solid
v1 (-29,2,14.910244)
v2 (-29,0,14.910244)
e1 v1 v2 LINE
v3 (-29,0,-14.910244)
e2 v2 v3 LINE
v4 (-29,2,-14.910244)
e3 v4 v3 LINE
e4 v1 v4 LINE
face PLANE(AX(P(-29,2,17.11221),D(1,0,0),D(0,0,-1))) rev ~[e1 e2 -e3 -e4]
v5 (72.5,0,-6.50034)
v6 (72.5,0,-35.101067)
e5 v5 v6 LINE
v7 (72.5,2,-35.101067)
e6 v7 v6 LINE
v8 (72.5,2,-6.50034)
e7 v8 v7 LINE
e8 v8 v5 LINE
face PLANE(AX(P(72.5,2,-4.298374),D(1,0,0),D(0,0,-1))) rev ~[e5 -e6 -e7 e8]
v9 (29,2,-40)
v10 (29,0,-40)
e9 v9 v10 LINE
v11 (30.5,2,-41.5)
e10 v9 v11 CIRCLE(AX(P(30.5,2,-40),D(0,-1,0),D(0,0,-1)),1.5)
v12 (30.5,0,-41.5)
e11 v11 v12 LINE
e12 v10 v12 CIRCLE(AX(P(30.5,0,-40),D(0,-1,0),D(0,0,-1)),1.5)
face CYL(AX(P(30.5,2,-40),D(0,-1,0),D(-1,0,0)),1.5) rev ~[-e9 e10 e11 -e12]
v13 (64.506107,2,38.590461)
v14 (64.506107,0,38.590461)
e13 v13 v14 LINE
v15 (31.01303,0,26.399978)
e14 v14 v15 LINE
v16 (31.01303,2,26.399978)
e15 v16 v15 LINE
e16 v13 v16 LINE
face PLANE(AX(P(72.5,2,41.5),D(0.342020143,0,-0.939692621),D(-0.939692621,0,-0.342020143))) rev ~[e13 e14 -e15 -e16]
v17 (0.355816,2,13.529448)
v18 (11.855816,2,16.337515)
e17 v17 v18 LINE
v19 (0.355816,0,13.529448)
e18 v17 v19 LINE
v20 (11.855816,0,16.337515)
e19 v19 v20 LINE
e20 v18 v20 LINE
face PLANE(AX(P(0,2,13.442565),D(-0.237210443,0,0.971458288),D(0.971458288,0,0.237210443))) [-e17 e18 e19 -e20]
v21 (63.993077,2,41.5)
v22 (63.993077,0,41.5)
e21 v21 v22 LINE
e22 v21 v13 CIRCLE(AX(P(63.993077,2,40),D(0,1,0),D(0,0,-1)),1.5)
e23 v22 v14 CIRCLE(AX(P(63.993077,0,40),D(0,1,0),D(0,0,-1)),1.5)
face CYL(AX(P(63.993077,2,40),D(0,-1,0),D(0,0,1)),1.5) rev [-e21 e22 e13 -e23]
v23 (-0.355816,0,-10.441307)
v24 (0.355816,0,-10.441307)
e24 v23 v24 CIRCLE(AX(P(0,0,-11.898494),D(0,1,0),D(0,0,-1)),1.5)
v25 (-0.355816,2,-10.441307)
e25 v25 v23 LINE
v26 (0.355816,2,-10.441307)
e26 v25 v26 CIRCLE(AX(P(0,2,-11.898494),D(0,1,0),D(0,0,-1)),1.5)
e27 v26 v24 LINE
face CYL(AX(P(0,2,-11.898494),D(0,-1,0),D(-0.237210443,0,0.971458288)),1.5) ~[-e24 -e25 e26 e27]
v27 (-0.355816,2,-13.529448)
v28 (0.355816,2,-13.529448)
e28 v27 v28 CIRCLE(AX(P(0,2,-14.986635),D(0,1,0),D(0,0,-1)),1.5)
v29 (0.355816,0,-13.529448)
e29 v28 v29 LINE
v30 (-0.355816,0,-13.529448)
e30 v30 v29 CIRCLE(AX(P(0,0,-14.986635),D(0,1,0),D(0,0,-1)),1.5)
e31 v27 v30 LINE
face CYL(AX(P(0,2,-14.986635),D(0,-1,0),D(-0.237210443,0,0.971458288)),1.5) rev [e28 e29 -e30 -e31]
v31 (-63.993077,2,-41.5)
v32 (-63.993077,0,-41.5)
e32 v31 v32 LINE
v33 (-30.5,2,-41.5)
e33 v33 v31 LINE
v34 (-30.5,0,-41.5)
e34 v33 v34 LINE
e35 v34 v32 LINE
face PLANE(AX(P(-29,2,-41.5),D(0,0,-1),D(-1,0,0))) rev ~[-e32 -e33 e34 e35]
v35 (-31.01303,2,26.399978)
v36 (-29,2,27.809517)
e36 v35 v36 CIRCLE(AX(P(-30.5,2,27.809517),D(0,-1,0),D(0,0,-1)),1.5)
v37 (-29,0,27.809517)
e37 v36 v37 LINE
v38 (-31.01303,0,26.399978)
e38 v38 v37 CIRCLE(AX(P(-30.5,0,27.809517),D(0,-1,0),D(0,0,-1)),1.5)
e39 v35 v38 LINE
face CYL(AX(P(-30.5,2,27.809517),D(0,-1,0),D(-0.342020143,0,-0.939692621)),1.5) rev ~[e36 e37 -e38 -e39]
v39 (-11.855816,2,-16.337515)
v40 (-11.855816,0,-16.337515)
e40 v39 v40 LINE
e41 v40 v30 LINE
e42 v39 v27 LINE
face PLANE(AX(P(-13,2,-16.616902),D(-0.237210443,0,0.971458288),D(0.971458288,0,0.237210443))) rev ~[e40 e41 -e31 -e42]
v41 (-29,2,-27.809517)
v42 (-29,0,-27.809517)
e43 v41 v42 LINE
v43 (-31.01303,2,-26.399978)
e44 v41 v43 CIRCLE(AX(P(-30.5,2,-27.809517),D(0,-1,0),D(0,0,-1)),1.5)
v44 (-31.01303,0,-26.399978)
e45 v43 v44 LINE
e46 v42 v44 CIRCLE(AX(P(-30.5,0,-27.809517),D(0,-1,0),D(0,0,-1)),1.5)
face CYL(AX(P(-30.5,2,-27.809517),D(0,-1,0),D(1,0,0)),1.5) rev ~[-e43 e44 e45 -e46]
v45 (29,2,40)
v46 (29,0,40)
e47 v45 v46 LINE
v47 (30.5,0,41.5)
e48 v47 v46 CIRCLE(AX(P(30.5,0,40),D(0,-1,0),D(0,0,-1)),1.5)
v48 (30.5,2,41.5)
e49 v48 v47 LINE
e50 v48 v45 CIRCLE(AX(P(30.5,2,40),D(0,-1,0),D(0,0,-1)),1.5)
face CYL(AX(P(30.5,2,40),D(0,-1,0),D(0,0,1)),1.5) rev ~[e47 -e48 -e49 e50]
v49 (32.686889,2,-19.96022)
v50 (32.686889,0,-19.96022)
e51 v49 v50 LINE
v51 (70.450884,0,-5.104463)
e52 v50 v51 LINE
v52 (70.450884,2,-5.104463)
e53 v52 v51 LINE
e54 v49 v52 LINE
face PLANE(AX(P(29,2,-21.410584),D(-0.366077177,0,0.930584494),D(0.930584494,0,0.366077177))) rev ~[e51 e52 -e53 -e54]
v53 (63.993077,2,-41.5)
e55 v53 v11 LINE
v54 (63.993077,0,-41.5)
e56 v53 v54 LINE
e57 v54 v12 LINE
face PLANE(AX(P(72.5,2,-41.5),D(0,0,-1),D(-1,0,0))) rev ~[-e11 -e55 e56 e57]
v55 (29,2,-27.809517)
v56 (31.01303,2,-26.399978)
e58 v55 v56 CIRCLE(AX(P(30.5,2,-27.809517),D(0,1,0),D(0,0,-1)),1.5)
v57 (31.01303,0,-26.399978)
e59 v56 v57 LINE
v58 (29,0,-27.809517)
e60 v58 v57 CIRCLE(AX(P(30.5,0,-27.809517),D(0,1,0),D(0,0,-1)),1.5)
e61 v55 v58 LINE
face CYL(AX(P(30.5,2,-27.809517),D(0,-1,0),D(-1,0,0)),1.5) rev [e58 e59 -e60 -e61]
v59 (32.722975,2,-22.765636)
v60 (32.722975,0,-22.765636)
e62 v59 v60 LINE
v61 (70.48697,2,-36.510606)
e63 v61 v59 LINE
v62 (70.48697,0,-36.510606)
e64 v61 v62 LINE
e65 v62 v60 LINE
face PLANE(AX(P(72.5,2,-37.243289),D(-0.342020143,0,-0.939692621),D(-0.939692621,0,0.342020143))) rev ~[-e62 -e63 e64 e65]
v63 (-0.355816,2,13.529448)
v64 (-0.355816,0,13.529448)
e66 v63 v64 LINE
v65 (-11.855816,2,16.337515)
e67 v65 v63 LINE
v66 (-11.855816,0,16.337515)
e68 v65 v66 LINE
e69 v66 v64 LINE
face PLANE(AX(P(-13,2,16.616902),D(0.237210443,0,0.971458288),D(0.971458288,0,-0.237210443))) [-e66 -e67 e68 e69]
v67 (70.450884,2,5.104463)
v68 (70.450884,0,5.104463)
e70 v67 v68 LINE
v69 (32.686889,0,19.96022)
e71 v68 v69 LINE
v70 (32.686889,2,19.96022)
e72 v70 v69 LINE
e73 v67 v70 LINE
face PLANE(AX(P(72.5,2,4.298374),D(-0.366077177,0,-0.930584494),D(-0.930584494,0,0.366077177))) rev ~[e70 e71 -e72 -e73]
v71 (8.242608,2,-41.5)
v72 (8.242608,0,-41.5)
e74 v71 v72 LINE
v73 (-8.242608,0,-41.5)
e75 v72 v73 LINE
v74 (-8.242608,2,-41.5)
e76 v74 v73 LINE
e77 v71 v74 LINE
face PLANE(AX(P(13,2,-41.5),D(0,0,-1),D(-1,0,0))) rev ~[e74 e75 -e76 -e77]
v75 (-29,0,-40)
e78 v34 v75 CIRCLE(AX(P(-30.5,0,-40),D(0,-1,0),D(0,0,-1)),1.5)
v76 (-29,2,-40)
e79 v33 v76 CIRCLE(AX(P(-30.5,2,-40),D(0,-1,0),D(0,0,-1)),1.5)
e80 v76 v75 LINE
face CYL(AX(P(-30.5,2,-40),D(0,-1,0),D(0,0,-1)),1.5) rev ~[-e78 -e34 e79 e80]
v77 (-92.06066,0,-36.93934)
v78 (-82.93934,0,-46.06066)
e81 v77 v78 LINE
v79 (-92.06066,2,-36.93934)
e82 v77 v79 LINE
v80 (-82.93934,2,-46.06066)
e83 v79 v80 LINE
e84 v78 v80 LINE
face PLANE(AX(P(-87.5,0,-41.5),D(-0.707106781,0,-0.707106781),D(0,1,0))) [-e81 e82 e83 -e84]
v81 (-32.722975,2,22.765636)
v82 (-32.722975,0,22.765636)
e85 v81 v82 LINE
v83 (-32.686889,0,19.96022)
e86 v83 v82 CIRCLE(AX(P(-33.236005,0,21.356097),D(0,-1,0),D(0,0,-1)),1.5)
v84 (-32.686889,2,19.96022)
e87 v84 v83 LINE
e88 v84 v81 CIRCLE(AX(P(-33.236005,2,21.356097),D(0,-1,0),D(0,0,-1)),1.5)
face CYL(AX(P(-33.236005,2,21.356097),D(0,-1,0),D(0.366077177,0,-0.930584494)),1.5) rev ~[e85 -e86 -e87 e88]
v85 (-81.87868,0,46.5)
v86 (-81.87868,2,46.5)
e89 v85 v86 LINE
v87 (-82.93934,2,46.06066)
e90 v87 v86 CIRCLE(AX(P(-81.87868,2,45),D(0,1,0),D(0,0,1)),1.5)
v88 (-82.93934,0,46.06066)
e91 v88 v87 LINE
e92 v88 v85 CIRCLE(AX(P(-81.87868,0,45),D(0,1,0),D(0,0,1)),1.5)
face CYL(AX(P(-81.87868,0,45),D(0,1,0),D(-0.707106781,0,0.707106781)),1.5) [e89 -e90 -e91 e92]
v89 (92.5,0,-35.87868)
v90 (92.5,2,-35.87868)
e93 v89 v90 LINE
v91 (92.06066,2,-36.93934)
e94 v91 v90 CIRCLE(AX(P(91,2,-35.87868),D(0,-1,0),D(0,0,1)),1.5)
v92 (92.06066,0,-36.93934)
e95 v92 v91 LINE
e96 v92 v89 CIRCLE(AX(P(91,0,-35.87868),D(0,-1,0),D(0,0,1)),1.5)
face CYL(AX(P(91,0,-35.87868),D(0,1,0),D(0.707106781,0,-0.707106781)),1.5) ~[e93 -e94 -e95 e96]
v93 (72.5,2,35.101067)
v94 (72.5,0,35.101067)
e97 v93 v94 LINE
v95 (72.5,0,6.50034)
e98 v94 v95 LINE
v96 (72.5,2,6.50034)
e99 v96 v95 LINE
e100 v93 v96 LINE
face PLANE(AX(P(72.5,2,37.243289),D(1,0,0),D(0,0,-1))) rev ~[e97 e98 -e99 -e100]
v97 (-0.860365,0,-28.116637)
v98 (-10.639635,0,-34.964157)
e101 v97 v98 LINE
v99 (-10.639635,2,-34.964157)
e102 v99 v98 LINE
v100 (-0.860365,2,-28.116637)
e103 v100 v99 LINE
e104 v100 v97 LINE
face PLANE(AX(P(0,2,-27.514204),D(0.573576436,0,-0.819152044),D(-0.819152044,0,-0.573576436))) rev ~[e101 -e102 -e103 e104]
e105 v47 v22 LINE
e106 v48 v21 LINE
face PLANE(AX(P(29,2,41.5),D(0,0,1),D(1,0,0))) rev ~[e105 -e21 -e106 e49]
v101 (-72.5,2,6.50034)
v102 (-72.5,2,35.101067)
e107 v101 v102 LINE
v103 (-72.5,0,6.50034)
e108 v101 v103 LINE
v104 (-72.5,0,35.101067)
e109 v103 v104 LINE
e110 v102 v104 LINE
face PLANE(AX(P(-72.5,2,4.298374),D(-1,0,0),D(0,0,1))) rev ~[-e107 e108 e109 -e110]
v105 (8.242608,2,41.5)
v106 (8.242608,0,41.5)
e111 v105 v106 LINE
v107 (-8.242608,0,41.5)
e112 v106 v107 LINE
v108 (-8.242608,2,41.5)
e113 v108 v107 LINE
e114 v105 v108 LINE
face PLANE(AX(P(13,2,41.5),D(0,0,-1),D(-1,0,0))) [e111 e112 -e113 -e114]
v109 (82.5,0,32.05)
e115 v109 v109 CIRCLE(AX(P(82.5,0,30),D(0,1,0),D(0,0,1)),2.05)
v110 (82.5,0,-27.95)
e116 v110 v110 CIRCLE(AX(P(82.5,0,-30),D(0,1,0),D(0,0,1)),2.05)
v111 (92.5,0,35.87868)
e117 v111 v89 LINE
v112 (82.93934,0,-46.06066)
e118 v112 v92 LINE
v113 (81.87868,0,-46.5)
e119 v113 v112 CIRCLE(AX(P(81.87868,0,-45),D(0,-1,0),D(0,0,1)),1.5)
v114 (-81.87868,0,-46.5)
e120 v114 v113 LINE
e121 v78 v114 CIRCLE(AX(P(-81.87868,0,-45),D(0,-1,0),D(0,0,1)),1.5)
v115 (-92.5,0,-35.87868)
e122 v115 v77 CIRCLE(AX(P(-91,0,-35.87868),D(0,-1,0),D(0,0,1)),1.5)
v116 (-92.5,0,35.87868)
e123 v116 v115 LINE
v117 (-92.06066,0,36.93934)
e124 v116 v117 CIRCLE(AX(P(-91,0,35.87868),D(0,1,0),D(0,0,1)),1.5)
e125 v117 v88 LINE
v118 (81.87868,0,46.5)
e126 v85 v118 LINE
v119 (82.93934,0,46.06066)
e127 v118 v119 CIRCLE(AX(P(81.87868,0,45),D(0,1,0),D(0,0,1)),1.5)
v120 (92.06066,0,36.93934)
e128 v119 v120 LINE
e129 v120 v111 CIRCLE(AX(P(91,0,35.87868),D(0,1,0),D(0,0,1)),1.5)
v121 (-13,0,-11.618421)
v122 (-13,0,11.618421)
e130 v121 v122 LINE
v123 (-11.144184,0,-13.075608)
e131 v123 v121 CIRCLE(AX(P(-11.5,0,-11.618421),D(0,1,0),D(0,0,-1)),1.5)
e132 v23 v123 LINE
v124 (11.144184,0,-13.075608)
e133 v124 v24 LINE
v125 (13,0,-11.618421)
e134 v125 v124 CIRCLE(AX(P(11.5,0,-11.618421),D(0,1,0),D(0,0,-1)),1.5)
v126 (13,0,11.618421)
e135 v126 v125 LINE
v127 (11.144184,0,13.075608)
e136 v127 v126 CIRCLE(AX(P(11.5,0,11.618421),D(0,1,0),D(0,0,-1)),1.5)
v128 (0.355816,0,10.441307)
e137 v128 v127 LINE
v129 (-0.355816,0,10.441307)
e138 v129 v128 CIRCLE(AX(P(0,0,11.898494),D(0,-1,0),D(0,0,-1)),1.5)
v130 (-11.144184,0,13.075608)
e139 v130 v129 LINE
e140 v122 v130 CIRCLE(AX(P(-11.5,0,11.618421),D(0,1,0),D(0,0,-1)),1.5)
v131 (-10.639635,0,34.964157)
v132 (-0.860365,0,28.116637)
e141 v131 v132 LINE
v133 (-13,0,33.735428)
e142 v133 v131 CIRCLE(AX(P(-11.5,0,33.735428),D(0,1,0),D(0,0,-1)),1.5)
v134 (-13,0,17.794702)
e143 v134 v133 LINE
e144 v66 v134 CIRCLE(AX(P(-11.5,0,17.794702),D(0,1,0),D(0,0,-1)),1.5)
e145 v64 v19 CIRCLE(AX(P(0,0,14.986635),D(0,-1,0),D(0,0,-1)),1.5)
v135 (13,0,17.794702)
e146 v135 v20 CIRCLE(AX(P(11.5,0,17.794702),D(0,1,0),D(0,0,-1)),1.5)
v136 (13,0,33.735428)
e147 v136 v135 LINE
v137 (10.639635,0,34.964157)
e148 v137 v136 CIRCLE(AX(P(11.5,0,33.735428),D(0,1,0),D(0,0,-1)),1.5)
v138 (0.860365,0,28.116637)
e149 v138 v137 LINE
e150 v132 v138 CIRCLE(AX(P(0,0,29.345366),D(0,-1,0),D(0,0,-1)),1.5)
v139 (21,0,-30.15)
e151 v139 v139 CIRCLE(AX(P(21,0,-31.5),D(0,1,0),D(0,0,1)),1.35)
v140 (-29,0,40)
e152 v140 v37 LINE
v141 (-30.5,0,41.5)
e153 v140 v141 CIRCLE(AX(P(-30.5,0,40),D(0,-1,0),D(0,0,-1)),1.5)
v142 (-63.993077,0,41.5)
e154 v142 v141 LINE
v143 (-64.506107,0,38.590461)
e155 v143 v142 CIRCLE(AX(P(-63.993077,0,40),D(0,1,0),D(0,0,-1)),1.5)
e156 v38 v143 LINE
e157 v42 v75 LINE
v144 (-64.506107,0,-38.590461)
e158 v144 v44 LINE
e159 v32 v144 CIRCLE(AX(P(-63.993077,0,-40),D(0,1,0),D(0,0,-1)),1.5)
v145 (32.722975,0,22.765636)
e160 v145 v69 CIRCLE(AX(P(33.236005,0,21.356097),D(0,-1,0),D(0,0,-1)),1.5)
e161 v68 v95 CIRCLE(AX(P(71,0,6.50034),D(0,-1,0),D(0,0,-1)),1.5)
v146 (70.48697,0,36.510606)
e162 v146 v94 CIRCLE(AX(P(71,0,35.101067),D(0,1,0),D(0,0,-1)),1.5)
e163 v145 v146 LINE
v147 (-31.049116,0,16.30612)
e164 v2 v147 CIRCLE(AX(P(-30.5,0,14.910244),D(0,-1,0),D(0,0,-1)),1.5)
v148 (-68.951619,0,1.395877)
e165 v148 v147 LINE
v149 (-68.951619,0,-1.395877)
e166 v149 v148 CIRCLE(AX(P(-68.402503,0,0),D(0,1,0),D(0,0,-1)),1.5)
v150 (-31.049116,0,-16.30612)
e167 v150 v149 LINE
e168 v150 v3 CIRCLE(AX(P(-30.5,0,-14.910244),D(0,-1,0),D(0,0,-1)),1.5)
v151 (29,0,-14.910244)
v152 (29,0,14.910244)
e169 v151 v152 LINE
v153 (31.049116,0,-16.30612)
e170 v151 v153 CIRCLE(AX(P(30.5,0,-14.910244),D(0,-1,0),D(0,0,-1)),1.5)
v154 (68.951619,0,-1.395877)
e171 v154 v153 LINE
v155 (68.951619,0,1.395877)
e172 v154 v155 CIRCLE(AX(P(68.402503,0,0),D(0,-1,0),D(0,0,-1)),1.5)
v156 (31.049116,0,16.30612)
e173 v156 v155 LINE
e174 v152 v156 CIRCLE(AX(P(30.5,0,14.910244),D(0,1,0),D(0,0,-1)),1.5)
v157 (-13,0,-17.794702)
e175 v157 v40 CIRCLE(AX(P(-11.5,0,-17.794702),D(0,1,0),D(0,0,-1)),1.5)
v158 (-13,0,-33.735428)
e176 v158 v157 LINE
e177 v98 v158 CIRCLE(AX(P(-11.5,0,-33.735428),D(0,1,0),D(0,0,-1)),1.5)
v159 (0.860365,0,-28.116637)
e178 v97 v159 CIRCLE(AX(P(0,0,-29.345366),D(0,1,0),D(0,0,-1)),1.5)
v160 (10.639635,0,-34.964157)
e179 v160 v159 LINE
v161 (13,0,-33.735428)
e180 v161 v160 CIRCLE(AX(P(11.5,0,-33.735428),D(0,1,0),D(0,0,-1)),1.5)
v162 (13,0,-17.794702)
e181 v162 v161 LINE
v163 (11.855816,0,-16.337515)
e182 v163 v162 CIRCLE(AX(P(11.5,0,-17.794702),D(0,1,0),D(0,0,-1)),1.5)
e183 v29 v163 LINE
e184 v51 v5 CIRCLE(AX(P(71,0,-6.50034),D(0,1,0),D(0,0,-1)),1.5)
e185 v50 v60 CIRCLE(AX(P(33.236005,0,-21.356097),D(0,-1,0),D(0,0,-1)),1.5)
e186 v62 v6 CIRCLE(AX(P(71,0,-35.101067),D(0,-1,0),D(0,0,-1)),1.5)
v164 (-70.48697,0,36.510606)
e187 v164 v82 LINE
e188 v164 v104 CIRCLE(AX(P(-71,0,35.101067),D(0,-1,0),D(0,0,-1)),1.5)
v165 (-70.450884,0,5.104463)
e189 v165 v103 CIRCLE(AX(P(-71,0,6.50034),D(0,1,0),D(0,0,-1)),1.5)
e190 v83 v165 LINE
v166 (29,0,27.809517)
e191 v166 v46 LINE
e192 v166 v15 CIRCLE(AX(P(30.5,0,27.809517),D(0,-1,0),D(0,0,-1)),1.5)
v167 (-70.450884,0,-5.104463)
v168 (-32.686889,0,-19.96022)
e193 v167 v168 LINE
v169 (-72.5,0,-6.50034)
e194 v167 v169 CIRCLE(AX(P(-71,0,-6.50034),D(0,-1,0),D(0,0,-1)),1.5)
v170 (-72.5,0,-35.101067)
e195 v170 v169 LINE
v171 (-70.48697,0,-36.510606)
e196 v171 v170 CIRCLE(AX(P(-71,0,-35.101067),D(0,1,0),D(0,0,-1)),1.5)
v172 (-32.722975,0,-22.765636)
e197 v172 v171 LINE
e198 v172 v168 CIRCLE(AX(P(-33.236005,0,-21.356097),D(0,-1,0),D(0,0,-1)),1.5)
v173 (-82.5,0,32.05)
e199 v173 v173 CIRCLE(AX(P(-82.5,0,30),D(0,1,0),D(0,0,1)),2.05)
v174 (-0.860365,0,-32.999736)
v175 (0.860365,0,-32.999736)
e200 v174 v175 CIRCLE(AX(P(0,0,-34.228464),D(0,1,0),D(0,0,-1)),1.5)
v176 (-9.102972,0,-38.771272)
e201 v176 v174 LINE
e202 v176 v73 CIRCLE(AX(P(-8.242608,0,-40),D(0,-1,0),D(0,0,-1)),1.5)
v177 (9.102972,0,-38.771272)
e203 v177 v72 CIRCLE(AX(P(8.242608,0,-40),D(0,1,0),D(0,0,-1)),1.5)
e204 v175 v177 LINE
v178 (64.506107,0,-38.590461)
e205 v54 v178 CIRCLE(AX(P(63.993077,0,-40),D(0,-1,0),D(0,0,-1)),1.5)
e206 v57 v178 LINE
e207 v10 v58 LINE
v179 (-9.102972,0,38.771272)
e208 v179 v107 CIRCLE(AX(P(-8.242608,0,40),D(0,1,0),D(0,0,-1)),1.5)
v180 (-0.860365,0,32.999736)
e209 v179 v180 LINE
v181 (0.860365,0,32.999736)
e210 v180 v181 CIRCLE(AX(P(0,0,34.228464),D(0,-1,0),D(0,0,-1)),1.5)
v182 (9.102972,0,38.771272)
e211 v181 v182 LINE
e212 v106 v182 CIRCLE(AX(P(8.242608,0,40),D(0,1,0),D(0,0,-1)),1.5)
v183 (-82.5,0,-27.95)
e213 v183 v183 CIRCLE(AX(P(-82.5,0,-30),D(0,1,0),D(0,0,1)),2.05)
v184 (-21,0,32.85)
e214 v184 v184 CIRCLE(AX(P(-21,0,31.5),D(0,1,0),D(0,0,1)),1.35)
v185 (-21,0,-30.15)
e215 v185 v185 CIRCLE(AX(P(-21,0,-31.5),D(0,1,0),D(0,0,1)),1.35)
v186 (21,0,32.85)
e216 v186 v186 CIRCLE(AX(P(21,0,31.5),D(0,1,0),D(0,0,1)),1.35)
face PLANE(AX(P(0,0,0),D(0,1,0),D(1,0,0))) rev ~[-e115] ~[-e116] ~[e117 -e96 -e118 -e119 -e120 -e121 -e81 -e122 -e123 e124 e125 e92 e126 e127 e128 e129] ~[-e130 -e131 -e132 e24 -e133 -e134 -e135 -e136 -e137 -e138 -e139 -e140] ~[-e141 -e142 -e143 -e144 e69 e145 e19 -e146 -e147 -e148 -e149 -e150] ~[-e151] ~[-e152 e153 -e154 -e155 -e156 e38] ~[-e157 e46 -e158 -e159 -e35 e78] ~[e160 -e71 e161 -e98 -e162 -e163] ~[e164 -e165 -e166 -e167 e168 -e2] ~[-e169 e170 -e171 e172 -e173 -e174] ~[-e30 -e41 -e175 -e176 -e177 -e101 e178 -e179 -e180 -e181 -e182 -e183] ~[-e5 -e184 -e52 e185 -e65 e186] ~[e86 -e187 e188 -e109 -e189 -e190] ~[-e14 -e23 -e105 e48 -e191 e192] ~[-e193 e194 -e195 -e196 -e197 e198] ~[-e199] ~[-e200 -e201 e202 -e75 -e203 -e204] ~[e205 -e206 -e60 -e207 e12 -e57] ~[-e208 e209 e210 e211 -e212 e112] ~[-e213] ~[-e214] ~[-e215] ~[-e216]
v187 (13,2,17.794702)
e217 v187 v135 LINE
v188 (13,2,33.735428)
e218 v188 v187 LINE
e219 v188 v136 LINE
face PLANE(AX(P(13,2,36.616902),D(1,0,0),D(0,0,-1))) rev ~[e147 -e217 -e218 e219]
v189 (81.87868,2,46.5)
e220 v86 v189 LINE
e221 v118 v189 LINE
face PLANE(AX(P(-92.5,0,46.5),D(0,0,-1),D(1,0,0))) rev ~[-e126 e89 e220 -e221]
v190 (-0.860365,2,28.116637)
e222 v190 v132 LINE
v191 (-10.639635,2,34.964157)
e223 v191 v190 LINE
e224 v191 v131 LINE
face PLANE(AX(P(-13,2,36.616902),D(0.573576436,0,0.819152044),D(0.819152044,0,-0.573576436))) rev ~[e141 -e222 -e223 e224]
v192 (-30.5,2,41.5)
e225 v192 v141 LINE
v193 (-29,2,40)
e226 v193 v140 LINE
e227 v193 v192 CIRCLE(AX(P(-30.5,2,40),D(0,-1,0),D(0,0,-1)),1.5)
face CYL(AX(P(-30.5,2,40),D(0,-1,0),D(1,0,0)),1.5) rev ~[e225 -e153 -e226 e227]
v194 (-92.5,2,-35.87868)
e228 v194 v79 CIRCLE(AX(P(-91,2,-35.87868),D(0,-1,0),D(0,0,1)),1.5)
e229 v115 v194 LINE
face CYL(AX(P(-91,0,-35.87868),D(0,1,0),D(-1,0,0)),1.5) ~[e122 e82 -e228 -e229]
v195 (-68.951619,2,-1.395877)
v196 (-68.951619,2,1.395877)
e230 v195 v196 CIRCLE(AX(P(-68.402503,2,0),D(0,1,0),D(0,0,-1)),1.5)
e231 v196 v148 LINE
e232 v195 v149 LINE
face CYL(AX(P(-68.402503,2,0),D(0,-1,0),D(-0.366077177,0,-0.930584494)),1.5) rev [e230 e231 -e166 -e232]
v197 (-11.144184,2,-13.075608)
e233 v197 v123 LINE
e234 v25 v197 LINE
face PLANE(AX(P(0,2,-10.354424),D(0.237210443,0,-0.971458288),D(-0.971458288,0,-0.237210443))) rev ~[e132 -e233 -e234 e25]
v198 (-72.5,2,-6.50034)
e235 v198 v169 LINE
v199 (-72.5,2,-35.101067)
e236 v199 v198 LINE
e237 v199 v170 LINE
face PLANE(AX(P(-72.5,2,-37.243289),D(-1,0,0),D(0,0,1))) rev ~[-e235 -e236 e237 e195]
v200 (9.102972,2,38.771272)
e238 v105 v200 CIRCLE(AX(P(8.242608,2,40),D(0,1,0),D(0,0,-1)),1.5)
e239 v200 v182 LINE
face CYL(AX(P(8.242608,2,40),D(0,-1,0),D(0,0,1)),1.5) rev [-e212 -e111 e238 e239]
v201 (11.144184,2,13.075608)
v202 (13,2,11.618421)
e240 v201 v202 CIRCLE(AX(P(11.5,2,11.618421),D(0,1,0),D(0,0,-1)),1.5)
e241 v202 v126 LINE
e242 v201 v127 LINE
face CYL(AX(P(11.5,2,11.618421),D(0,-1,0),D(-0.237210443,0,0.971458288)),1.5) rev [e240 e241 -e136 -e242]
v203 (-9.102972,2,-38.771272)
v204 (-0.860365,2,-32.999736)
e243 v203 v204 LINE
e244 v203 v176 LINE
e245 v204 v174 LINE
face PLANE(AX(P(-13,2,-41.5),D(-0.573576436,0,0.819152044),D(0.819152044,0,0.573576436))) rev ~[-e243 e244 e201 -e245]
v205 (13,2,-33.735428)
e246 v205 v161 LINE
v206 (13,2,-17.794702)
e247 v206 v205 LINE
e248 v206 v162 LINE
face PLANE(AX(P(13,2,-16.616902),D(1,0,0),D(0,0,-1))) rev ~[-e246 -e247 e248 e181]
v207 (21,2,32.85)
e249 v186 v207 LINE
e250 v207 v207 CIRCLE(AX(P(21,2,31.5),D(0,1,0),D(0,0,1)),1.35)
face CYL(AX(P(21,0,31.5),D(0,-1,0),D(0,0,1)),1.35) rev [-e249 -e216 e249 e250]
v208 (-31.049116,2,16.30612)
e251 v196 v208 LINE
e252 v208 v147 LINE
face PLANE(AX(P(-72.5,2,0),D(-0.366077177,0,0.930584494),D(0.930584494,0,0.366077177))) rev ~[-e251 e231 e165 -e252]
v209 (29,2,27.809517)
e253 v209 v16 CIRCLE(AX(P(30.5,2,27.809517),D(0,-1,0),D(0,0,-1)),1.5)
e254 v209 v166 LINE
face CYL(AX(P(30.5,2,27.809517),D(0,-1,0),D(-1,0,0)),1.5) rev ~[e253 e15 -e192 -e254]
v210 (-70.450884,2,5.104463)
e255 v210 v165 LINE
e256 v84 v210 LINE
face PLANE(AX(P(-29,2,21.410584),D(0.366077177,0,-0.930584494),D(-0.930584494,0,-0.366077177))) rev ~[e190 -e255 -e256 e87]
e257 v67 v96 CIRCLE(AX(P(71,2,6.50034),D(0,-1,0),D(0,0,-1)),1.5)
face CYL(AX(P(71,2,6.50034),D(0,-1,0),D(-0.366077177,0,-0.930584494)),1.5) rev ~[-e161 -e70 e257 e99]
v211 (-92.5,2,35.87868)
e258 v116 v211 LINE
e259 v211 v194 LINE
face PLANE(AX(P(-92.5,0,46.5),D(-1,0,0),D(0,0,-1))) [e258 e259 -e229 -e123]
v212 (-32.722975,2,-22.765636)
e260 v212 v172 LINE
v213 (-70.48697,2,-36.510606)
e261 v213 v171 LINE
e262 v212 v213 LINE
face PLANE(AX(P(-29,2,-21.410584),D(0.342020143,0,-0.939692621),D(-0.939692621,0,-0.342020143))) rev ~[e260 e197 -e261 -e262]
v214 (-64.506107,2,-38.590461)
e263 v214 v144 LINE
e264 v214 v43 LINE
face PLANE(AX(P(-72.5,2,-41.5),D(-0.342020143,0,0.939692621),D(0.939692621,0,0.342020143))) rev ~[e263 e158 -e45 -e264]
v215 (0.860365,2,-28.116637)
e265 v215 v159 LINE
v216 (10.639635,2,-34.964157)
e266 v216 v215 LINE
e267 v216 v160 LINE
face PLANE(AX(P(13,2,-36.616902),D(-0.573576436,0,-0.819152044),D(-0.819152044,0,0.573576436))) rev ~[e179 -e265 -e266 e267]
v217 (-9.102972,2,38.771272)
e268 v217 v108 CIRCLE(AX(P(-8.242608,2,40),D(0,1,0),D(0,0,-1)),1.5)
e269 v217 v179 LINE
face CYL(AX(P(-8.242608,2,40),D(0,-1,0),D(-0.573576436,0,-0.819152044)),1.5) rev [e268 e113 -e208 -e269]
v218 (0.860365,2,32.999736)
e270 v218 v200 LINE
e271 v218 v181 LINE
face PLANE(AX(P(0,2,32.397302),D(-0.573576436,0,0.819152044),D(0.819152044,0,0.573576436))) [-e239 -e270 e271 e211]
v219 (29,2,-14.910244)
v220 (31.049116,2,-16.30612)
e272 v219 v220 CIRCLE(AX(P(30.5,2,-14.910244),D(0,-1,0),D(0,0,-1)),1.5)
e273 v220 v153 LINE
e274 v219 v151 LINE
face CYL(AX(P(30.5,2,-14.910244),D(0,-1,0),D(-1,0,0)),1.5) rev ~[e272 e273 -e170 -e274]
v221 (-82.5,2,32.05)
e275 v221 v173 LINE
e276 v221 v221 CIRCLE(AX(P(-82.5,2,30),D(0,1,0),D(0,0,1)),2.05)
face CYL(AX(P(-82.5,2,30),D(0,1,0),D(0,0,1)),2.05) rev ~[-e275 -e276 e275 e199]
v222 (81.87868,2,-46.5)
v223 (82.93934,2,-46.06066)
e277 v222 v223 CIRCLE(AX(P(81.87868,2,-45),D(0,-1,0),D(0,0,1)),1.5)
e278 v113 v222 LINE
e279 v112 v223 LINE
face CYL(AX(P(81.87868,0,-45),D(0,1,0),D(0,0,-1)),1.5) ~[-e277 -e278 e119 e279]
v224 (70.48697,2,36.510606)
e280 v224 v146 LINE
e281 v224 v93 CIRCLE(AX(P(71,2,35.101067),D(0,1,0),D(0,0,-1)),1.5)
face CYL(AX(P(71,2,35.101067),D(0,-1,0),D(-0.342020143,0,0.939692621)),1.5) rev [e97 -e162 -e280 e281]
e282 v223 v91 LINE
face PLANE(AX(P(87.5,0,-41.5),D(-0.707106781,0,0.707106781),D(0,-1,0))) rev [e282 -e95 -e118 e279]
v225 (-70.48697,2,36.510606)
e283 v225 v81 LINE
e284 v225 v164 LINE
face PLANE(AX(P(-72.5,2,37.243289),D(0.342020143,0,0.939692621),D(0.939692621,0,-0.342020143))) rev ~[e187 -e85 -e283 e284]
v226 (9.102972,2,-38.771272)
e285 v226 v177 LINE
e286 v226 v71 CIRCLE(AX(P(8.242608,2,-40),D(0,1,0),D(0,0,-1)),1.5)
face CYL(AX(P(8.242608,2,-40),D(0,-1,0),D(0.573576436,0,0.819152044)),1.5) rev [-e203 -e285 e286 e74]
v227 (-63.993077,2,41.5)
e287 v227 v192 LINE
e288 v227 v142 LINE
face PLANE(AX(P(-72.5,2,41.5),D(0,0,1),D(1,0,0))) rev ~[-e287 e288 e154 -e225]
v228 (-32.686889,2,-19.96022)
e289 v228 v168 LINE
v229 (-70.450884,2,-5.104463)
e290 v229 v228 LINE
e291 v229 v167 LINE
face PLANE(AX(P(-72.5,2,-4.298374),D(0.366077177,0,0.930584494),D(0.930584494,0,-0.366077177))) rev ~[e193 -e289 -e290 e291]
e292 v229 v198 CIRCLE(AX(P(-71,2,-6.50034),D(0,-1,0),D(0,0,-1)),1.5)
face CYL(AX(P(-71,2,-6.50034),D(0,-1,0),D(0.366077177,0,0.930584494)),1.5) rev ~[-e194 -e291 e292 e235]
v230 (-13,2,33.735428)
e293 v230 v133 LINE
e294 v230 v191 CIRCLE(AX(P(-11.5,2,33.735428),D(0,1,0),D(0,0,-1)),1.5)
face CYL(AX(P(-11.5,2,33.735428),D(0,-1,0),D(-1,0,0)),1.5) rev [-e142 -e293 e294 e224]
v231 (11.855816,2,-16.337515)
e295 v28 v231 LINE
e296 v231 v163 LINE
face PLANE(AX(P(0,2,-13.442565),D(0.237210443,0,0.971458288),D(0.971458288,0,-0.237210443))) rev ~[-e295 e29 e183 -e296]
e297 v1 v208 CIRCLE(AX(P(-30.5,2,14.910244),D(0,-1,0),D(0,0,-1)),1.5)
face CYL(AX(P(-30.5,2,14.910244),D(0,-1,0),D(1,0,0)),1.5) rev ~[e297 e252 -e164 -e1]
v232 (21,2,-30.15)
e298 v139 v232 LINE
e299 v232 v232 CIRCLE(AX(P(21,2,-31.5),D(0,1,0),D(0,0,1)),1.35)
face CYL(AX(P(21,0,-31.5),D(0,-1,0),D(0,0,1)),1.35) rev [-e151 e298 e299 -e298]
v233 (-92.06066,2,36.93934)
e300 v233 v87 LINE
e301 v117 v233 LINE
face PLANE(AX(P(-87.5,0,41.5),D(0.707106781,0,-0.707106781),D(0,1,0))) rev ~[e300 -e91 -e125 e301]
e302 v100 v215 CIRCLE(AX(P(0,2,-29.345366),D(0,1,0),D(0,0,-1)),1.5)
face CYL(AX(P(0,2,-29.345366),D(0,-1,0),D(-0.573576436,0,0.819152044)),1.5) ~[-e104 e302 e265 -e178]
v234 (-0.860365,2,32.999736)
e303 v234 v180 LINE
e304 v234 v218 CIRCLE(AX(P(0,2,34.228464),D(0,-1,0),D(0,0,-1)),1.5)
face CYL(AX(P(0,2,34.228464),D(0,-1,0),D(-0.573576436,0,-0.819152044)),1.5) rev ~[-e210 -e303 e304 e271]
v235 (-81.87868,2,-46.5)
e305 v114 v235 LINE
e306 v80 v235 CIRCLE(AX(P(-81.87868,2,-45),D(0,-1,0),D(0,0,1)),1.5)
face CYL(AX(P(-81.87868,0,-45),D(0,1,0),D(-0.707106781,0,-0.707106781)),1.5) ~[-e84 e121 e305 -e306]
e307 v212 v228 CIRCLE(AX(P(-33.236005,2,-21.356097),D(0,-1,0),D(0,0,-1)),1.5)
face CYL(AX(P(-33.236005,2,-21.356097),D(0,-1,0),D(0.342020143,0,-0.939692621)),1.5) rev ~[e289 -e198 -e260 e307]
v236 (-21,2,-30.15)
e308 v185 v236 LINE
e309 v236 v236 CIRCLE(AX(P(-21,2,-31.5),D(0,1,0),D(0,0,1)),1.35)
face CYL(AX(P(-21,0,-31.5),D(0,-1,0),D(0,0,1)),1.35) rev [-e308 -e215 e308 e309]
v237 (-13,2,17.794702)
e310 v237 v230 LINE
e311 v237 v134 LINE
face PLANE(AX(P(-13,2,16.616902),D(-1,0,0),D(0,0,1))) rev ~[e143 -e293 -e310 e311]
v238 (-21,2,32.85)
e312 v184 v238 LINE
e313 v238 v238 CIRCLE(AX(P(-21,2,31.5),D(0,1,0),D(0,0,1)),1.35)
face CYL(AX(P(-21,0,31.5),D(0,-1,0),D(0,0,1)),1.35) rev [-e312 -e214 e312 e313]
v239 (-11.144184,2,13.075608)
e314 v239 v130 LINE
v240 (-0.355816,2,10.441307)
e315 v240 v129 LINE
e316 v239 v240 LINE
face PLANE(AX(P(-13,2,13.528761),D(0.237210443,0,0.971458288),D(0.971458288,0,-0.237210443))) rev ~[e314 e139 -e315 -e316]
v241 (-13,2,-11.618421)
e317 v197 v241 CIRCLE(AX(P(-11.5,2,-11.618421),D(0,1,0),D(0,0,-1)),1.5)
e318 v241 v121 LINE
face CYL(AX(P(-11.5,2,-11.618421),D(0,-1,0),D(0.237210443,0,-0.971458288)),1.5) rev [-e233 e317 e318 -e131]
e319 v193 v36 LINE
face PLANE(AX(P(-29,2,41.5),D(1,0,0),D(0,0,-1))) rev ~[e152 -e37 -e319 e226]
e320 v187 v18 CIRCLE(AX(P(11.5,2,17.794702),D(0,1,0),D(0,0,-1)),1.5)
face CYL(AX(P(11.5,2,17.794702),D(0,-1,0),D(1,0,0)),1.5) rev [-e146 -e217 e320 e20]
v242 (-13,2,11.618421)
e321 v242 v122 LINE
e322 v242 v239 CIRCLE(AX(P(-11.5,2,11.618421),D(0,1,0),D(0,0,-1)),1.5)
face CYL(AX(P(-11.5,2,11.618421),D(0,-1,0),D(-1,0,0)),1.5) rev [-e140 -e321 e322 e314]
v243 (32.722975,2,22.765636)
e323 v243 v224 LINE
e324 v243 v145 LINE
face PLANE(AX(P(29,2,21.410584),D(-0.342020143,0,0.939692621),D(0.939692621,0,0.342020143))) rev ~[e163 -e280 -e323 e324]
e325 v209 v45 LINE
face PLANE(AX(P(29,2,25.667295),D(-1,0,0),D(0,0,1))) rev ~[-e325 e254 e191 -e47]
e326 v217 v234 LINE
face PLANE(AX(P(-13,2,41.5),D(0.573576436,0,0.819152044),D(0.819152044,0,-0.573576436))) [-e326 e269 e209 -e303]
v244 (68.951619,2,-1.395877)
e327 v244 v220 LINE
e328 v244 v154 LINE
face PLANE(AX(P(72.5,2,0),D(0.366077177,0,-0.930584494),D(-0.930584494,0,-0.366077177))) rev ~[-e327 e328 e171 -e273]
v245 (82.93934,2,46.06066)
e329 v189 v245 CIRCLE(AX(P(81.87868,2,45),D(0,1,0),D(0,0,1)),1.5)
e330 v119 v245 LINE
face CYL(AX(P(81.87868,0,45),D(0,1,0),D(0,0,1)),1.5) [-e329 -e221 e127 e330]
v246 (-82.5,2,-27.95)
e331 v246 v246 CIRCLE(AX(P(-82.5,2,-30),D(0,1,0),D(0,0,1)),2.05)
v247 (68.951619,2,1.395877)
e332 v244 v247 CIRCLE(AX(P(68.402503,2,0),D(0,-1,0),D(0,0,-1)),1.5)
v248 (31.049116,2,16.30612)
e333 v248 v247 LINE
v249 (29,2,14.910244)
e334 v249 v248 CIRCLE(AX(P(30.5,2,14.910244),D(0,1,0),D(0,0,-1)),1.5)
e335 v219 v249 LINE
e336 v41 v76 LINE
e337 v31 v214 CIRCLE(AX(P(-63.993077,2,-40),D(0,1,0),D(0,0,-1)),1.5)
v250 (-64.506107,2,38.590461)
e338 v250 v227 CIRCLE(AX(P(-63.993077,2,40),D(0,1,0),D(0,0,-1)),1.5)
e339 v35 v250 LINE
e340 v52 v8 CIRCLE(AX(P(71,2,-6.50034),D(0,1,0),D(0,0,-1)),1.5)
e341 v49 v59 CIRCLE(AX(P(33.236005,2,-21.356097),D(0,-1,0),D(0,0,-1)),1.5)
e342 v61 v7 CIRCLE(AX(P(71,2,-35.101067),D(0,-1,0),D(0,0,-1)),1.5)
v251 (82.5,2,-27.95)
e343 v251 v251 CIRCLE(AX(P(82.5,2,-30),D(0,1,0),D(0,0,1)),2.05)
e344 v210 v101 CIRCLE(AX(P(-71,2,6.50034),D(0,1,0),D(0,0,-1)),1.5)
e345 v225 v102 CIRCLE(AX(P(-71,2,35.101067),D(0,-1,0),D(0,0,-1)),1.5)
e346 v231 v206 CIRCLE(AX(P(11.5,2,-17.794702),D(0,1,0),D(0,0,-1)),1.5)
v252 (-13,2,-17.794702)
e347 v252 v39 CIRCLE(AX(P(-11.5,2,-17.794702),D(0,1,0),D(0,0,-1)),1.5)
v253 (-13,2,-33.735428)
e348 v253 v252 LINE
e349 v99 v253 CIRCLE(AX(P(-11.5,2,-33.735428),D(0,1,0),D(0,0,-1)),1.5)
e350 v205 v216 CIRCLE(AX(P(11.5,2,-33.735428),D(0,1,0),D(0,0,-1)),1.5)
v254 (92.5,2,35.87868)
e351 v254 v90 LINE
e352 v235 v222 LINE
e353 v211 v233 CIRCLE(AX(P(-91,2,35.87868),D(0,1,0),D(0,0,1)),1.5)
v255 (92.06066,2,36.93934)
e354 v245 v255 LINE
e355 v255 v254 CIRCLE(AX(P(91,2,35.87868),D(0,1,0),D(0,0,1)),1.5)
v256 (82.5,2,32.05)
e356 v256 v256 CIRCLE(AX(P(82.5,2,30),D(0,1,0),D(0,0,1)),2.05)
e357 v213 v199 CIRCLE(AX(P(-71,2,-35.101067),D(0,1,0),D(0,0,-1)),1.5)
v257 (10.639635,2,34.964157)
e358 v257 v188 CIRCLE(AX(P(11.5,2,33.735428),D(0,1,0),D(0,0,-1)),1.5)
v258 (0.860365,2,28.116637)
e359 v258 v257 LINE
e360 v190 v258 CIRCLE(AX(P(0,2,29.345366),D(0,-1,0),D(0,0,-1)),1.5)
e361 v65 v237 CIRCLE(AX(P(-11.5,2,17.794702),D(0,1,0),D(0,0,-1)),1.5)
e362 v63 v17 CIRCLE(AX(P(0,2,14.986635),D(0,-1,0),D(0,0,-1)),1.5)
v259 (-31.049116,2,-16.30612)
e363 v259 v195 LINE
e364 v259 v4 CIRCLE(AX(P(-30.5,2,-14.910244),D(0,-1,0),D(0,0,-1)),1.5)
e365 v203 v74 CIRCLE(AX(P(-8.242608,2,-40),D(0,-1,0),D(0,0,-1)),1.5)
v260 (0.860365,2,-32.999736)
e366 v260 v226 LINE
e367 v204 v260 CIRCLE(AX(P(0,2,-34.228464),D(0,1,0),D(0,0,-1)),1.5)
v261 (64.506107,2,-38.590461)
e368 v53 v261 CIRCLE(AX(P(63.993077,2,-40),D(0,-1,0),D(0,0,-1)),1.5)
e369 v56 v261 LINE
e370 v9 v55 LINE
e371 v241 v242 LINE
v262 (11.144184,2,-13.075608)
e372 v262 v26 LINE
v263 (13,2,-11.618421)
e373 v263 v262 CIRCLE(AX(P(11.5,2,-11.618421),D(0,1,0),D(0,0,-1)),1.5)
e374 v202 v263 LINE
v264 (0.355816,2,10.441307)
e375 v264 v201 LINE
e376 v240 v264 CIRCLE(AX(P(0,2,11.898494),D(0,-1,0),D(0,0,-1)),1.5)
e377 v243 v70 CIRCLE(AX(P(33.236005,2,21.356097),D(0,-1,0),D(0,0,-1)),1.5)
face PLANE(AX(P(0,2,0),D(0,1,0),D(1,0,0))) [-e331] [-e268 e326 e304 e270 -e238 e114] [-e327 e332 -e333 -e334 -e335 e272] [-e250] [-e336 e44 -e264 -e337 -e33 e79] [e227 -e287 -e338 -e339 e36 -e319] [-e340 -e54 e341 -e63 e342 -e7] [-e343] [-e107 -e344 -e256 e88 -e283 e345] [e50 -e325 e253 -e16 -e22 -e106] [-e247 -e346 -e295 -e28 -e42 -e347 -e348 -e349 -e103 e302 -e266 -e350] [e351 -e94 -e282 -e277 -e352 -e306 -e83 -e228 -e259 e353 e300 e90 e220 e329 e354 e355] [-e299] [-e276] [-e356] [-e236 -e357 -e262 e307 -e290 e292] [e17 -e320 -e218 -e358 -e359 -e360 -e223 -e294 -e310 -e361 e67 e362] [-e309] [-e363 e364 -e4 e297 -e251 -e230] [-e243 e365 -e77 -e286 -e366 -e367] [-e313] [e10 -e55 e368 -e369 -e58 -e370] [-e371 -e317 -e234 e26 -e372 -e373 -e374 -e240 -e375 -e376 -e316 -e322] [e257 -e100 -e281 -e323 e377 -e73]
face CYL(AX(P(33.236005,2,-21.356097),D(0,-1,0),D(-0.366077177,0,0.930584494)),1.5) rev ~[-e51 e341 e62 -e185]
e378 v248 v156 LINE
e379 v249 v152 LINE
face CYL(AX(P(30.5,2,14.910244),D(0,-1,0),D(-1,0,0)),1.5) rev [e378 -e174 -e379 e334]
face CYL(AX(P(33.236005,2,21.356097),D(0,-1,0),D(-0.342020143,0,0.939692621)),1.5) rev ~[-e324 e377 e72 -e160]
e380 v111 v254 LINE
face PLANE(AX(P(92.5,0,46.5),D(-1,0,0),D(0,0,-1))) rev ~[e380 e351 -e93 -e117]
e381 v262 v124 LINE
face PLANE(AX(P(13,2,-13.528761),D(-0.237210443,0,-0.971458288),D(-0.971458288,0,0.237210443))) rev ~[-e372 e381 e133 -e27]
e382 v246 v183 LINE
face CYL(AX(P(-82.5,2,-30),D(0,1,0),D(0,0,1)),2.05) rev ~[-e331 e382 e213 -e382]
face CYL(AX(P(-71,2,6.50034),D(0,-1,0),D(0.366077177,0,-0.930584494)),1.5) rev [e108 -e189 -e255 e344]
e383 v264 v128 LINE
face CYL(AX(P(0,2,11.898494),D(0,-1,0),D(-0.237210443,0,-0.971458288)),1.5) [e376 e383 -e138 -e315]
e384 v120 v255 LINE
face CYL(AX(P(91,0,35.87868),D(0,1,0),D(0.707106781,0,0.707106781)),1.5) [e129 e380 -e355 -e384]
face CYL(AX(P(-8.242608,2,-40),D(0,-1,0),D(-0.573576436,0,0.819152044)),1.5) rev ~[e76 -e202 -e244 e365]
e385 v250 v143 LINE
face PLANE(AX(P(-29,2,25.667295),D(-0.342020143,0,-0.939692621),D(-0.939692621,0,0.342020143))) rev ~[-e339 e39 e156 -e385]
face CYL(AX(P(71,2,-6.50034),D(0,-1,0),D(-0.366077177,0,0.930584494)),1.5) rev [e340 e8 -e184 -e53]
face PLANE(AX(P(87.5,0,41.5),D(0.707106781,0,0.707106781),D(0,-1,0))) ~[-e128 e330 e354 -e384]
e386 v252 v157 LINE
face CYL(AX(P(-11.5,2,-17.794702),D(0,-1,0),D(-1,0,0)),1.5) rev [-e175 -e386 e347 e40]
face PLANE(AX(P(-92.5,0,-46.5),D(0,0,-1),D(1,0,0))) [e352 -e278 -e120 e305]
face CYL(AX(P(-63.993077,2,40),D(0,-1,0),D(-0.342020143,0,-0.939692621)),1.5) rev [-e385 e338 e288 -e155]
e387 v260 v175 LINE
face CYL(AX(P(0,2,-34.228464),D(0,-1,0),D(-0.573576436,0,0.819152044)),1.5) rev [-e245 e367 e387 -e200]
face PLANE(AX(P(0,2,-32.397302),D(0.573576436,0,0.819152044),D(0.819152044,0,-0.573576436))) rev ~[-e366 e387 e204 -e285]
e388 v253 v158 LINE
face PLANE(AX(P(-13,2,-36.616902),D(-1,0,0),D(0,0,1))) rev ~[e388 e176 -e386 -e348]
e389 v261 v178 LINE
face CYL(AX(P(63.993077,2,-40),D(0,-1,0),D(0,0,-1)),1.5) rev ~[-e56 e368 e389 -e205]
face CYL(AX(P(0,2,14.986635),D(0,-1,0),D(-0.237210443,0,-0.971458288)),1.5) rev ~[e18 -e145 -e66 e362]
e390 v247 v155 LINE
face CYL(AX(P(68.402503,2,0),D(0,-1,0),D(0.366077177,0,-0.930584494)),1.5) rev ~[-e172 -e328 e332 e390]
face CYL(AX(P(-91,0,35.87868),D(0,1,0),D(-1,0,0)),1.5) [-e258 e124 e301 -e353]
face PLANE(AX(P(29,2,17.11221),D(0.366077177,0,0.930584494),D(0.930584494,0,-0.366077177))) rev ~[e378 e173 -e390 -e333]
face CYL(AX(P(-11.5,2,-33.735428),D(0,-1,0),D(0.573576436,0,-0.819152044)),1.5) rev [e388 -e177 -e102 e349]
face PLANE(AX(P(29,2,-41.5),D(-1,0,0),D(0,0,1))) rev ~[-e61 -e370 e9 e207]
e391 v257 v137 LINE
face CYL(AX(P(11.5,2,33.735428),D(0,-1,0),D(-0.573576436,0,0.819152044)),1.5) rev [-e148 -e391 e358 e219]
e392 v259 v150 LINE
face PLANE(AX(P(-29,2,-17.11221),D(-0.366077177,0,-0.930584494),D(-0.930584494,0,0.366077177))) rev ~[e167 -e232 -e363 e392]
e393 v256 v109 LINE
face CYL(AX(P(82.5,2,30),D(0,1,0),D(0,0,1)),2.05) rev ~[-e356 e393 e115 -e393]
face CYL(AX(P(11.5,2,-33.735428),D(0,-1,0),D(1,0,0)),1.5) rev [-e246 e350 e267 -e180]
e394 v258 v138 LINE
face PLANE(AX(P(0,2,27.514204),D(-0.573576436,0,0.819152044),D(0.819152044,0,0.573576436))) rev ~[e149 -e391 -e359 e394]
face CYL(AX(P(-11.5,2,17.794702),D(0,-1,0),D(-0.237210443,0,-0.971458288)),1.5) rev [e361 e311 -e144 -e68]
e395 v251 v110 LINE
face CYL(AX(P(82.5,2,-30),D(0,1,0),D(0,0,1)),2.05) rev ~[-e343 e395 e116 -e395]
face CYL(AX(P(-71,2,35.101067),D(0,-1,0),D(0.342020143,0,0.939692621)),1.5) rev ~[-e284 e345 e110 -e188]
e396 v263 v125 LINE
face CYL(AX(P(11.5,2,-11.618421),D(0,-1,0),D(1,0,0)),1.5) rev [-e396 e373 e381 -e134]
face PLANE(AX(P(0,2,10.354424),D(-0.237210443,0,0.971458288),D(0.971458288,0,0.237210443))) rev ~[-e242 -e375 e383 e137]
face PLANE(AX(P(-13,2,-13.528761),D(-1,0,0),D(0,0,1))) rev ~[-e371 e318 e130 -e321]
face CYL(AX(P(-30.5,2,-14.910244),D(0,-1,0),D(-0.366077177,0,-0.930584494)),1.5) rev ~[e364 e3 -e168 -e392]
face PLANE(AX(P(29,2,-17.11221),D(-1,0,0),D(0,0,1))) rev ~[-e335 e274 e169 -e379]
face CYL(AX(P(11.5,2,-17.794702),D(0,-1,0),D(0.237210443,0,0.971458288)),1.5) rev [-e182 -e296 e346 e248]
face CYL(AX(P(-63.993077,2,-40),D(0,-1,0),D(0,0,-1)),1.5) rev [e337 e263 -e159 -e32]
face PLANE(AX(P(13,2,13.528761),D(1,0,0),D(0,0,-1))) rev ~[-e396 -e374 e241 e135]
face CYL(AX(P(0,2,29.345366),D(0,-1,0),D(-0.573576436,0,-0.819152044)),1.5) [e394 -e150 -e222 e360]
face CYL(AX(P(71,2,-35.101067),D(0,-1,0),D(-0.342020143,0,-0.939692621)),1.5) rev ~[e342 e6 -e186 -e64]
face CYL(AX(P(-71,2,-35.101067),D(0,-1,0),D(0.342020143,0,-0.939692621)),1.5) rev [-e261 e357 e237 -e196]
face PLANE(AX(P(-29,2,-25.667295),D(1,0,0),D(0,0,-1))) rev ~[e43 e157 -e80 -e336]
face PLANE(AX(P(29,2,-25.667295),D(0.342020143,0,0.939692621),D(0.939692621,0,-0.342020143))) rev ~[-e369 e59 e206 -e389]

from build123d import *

# Parameters (mm, degrees)
SKETCH_1_W           = 185
SKETCH_1_H           = 93
SKETCH_1_R           = 1.35
EXTRUDE_1_DEPTH      = 2
SKETCH_2_R           = 2.05
CUT_EXTRUDE_1_DEPTH  = 20
CHAMFER_1_SIZE       = 10
FILLET_1_R           = 1.5
CUT_EXTRUDE_10_DEPTH = 20
CUT_EXTRUDE_11_DEPTH = 20
FILLET_2_R           = 1.5


with BuildPart() as part:
    # 草图1 → 凸台-拉伸1 (new body)
    with BuildSketch(Plane(origin=(0, 0, 0), x_dir=(1, 0, 0), z_dir=(0, 1, 0))):
        Rectangle(SKETCH_1_W, SKETCH_1_H)
        with Locations(Location((-21, 31.5, 0), (0, 0, 270))):
            Circle(SKETCH_1_R, mode=Mode.SUBTRACT)
        with Locations(Location((-21, -31.5, 0), (0, 0, 270))):
            Circle(SKETCH_1_R, mode=Mode.SUBTRACT)
        with Locations(Location((21, -31.5, 0), (0, 0, 270))):
            Circle(SKETCH_1_R, mode=Mode.SUBTRACT)
        with Locations(Location((21, 31.5, 0), (0, 0, 270))):
            Circle(SKETCH_1_R, mode=Mode.SUBTRACT)
    extrude(amount=EXTRUDE_1_DEPTH)

    # 草图2 → 切除-拉伸1 (cut)
    with BuildSketch(Plane(origin=(0, 2, 0), x_dir=(1, 0, 0), z_dir=(0, 1, 0))):
        with Locations(Location((-82.5, 30, 0), (0, 0, 270))):
            Circle(SKETCH_2_R)
        with Locations(Location((82.5, 30, 0), (0, 0, 270))):
            Circle(SKETCH_2_R)
        with Locations(Location((82.5, -30, 0), (0, 0, 270))):
            Circle(SKETCH_2_R)
        with Locations(Location((-82.5, -30, 0), (0, 0, 270))):
            Circle(SKETCH_2_R)
    extrude(amount=-CUT_EXTRUDE_1_DEPTH, mode=Mode.SUBTRACT)

    # 倒角1
    chamfer_1_edges = [part.edges().sort_by_distance(p)[0] for p in [
        (-92.5, 1, -46.5),
        (92.5, 1, -46.5),
        (92.5, 1, 46.5),
        (-92.5, 1, 46.5),
    ]]
    chamfer(chamfer_1_edges, length=CHAMFER_1_SIZE)

    # 圆角1
    fillet_1_edges = [part.edges().sort_by_distance(p)[0] for p in [
        (-82.5, 1, -46.5),
        (82.5, 1, -46.5),
        (92.5, 1, 36.5),
        (92.5, 1, -36.5),
        (-82.5, 1, 46.5),
        (82.5, 1, 46.5),
        (-92.5, 1, -36.5),
        (-92.5, 1, 36.5),
    ]]
    fillet(fillet_1_edges, radius=FILLET_1_R)

    # 草图3 → 切除-拉伸10 (cut)
    with BuildSketch(Plane(origin=(0, 2, 0), x_dir=(1, 0, 0), z_dir=(0, 1, 0))):
        Polygon((-29, 41.5), (-72.5, 41.5), (-29, 25.667294809), align=None)
        Polygon((-29, 21.41058372), (-72.5, 37.24328891), (-72.5, 4.298373792), align=None)
        Polygon((-29, 17.112209927), (-72.5, 0), (-29, -17.112209927), align=None)
        Polygon((-29, -21.41058372), (-72.5, -4.298373792), (-72.5, -37.24328891), align=None)
        Polygon((-29, -25.667294809), (-72.5, -41.5), (-29, -41.5), align=None)
        Polygon((29, -41.5), (72.5, -41.5), (29, -25.667294809), align=None)
        Polygon((29, -21.41058372), (72.5, -37.24328891), (72.5, -4.298373792), align=None)
        Polygon((29, 17.112209927), (29, -17.112209927), (72.5, 0), align=None)
        Polygon((29, 21.41058372), (72.5, 4.298373792), (72.5, 37.24328891), align=None)
        Polygon((29, 41.5), (29, 25.667294809), (72.5, 41.5), align=None)
    extrude(amount=-CUT_EXTRUDE_10_DEPTH, mode=Mode.SUBTRACT)

    # 草图4 → 切除-拉伸11 (cut)
    with BuildSketch(Plane(origin=(0, 2, 0), x_dir=(1, 0, 0), z_dir=(0, 1, 0))):
        Polygon((-13, 41.5), (0, 32.397302003), (13, 41.5), align=None)
        Polygon((0, 27.514203648), (-13, 36.616901645), (-13, 16.616901645), (0, 24.514203648), (13, 16.616901645), (13, 36.616901645), align=None)
        Polygon((-13, 16.616901645), (0, 13.442564884), (13, 16.616901645), (0, 24.514203648), align=None)
        Polygon((0, 10.354424059), (-13, 13.52876082), (-13, 0), (0, 7.354424059), (13, 0), (13, 13.52876082), align=None)
        Polygon((-13, 0), (0, 7.354424059), (13, 0), (0, -7.354424059), align=None)
        Polygon((0, -7.354424059), (-13, 0), (-13, -13.52876082), (0, -10.354424059), (13, -13.52876082), (13, 0), align=None)
        Polygon((0, -13.442564884), (13, -16.616901645), (0, -24.514203648), (-13, -16.616901645), align=None)
        Polygon((0, -24.514203648), (-13, -16.616901645), (-13, -36.616901645), (0, -27.514203648), (13, -36.616901645), (13, -16.616901645), align=None)
        Polygon((0, -32.397302003), (13, -41.5), (-13, -41.5), align=None)
    extrude(amount=-CUT_EXTRUDE_11_DEPTH, mode=Mode.SUBTRACT)

    # 圆角2
    fillet_2_edges = [part.edges().sort_by_distance(p)[0] for p in [
        (-72.5, 1, 37.24328891),
        (-72.5, 1, 4.298373792),
        (-29, 1, 21.41058372),
        (-72.5, 1, 41.5),
        (-29, 1, 25.667294809),
        (-29, 1, 41.5),
        (-29, 1, -21.41058372),
        (-72.5, 1, -4.298373792),
        (-72.5, 1, -37.24328891),
        (-72.5, 1, 0),
        (-29, 1, -17.112209927),
        (-29, 1, 17.112209927),
        (29, 1, -17.112209927),
        (72.5, 1, 0),
        (29, 1, 17.112209927),
        (72.5, 1, -37.24328891),
        (72.5, 1, -4.298373792),
        (29, 1, -21.41058372),
        (72.5, 1, 41.5),
        (29, 1, 41.5),
        (29, 1, 25.667294809),
        (72.5, 1, 4.298373792),
        (72.5, 1, 37.24328891),
        (29, 1, 21.41058372),
        (72.5, 1, -41.5),
        (29, 1, -25.667294809),
        (29, 1, -41.5),
        (-72.5, 1, -41.5),
        (-29, 1, -41.5),
        (-29, 1, -25.667294809),
        (-13, 1, 13.52876082),
        (-13, 1, -13.52876082),
        (0, 1, -10.354424059),
        (13, 1, -13.52876082),
        (13, 1, 13.52876082),
        (0, 1, 10.354424059),
        (-13, 1, -16.616901645),
        (-13, 1, -36.616901645),
        (0, 1, -27.514203648),
        (13, 1, -36.616901645),
        (13, 1, -16.616901645),
        (0, 1, -13.442564884),
        (0, 1, 32.397302003),
        (13, 1, 41.5),
        (-13, 1, 41.5),
        (-13, 1, 16.616901645),
        (0, 1, 13.442564884),
        (13, 1, 16.616901645),
        (13, 1, 36.616901645),
        (0, 1, 27.514203648),
        (-13, 1, 36.616901645),
        (0, 1, -32.397302003),
        (-13, 1, -41.5),
        (13, 1, -41.5),
    ]]
    fillet(fillet_2_edges, radius=FILLET_2_R)


solid = part.part
